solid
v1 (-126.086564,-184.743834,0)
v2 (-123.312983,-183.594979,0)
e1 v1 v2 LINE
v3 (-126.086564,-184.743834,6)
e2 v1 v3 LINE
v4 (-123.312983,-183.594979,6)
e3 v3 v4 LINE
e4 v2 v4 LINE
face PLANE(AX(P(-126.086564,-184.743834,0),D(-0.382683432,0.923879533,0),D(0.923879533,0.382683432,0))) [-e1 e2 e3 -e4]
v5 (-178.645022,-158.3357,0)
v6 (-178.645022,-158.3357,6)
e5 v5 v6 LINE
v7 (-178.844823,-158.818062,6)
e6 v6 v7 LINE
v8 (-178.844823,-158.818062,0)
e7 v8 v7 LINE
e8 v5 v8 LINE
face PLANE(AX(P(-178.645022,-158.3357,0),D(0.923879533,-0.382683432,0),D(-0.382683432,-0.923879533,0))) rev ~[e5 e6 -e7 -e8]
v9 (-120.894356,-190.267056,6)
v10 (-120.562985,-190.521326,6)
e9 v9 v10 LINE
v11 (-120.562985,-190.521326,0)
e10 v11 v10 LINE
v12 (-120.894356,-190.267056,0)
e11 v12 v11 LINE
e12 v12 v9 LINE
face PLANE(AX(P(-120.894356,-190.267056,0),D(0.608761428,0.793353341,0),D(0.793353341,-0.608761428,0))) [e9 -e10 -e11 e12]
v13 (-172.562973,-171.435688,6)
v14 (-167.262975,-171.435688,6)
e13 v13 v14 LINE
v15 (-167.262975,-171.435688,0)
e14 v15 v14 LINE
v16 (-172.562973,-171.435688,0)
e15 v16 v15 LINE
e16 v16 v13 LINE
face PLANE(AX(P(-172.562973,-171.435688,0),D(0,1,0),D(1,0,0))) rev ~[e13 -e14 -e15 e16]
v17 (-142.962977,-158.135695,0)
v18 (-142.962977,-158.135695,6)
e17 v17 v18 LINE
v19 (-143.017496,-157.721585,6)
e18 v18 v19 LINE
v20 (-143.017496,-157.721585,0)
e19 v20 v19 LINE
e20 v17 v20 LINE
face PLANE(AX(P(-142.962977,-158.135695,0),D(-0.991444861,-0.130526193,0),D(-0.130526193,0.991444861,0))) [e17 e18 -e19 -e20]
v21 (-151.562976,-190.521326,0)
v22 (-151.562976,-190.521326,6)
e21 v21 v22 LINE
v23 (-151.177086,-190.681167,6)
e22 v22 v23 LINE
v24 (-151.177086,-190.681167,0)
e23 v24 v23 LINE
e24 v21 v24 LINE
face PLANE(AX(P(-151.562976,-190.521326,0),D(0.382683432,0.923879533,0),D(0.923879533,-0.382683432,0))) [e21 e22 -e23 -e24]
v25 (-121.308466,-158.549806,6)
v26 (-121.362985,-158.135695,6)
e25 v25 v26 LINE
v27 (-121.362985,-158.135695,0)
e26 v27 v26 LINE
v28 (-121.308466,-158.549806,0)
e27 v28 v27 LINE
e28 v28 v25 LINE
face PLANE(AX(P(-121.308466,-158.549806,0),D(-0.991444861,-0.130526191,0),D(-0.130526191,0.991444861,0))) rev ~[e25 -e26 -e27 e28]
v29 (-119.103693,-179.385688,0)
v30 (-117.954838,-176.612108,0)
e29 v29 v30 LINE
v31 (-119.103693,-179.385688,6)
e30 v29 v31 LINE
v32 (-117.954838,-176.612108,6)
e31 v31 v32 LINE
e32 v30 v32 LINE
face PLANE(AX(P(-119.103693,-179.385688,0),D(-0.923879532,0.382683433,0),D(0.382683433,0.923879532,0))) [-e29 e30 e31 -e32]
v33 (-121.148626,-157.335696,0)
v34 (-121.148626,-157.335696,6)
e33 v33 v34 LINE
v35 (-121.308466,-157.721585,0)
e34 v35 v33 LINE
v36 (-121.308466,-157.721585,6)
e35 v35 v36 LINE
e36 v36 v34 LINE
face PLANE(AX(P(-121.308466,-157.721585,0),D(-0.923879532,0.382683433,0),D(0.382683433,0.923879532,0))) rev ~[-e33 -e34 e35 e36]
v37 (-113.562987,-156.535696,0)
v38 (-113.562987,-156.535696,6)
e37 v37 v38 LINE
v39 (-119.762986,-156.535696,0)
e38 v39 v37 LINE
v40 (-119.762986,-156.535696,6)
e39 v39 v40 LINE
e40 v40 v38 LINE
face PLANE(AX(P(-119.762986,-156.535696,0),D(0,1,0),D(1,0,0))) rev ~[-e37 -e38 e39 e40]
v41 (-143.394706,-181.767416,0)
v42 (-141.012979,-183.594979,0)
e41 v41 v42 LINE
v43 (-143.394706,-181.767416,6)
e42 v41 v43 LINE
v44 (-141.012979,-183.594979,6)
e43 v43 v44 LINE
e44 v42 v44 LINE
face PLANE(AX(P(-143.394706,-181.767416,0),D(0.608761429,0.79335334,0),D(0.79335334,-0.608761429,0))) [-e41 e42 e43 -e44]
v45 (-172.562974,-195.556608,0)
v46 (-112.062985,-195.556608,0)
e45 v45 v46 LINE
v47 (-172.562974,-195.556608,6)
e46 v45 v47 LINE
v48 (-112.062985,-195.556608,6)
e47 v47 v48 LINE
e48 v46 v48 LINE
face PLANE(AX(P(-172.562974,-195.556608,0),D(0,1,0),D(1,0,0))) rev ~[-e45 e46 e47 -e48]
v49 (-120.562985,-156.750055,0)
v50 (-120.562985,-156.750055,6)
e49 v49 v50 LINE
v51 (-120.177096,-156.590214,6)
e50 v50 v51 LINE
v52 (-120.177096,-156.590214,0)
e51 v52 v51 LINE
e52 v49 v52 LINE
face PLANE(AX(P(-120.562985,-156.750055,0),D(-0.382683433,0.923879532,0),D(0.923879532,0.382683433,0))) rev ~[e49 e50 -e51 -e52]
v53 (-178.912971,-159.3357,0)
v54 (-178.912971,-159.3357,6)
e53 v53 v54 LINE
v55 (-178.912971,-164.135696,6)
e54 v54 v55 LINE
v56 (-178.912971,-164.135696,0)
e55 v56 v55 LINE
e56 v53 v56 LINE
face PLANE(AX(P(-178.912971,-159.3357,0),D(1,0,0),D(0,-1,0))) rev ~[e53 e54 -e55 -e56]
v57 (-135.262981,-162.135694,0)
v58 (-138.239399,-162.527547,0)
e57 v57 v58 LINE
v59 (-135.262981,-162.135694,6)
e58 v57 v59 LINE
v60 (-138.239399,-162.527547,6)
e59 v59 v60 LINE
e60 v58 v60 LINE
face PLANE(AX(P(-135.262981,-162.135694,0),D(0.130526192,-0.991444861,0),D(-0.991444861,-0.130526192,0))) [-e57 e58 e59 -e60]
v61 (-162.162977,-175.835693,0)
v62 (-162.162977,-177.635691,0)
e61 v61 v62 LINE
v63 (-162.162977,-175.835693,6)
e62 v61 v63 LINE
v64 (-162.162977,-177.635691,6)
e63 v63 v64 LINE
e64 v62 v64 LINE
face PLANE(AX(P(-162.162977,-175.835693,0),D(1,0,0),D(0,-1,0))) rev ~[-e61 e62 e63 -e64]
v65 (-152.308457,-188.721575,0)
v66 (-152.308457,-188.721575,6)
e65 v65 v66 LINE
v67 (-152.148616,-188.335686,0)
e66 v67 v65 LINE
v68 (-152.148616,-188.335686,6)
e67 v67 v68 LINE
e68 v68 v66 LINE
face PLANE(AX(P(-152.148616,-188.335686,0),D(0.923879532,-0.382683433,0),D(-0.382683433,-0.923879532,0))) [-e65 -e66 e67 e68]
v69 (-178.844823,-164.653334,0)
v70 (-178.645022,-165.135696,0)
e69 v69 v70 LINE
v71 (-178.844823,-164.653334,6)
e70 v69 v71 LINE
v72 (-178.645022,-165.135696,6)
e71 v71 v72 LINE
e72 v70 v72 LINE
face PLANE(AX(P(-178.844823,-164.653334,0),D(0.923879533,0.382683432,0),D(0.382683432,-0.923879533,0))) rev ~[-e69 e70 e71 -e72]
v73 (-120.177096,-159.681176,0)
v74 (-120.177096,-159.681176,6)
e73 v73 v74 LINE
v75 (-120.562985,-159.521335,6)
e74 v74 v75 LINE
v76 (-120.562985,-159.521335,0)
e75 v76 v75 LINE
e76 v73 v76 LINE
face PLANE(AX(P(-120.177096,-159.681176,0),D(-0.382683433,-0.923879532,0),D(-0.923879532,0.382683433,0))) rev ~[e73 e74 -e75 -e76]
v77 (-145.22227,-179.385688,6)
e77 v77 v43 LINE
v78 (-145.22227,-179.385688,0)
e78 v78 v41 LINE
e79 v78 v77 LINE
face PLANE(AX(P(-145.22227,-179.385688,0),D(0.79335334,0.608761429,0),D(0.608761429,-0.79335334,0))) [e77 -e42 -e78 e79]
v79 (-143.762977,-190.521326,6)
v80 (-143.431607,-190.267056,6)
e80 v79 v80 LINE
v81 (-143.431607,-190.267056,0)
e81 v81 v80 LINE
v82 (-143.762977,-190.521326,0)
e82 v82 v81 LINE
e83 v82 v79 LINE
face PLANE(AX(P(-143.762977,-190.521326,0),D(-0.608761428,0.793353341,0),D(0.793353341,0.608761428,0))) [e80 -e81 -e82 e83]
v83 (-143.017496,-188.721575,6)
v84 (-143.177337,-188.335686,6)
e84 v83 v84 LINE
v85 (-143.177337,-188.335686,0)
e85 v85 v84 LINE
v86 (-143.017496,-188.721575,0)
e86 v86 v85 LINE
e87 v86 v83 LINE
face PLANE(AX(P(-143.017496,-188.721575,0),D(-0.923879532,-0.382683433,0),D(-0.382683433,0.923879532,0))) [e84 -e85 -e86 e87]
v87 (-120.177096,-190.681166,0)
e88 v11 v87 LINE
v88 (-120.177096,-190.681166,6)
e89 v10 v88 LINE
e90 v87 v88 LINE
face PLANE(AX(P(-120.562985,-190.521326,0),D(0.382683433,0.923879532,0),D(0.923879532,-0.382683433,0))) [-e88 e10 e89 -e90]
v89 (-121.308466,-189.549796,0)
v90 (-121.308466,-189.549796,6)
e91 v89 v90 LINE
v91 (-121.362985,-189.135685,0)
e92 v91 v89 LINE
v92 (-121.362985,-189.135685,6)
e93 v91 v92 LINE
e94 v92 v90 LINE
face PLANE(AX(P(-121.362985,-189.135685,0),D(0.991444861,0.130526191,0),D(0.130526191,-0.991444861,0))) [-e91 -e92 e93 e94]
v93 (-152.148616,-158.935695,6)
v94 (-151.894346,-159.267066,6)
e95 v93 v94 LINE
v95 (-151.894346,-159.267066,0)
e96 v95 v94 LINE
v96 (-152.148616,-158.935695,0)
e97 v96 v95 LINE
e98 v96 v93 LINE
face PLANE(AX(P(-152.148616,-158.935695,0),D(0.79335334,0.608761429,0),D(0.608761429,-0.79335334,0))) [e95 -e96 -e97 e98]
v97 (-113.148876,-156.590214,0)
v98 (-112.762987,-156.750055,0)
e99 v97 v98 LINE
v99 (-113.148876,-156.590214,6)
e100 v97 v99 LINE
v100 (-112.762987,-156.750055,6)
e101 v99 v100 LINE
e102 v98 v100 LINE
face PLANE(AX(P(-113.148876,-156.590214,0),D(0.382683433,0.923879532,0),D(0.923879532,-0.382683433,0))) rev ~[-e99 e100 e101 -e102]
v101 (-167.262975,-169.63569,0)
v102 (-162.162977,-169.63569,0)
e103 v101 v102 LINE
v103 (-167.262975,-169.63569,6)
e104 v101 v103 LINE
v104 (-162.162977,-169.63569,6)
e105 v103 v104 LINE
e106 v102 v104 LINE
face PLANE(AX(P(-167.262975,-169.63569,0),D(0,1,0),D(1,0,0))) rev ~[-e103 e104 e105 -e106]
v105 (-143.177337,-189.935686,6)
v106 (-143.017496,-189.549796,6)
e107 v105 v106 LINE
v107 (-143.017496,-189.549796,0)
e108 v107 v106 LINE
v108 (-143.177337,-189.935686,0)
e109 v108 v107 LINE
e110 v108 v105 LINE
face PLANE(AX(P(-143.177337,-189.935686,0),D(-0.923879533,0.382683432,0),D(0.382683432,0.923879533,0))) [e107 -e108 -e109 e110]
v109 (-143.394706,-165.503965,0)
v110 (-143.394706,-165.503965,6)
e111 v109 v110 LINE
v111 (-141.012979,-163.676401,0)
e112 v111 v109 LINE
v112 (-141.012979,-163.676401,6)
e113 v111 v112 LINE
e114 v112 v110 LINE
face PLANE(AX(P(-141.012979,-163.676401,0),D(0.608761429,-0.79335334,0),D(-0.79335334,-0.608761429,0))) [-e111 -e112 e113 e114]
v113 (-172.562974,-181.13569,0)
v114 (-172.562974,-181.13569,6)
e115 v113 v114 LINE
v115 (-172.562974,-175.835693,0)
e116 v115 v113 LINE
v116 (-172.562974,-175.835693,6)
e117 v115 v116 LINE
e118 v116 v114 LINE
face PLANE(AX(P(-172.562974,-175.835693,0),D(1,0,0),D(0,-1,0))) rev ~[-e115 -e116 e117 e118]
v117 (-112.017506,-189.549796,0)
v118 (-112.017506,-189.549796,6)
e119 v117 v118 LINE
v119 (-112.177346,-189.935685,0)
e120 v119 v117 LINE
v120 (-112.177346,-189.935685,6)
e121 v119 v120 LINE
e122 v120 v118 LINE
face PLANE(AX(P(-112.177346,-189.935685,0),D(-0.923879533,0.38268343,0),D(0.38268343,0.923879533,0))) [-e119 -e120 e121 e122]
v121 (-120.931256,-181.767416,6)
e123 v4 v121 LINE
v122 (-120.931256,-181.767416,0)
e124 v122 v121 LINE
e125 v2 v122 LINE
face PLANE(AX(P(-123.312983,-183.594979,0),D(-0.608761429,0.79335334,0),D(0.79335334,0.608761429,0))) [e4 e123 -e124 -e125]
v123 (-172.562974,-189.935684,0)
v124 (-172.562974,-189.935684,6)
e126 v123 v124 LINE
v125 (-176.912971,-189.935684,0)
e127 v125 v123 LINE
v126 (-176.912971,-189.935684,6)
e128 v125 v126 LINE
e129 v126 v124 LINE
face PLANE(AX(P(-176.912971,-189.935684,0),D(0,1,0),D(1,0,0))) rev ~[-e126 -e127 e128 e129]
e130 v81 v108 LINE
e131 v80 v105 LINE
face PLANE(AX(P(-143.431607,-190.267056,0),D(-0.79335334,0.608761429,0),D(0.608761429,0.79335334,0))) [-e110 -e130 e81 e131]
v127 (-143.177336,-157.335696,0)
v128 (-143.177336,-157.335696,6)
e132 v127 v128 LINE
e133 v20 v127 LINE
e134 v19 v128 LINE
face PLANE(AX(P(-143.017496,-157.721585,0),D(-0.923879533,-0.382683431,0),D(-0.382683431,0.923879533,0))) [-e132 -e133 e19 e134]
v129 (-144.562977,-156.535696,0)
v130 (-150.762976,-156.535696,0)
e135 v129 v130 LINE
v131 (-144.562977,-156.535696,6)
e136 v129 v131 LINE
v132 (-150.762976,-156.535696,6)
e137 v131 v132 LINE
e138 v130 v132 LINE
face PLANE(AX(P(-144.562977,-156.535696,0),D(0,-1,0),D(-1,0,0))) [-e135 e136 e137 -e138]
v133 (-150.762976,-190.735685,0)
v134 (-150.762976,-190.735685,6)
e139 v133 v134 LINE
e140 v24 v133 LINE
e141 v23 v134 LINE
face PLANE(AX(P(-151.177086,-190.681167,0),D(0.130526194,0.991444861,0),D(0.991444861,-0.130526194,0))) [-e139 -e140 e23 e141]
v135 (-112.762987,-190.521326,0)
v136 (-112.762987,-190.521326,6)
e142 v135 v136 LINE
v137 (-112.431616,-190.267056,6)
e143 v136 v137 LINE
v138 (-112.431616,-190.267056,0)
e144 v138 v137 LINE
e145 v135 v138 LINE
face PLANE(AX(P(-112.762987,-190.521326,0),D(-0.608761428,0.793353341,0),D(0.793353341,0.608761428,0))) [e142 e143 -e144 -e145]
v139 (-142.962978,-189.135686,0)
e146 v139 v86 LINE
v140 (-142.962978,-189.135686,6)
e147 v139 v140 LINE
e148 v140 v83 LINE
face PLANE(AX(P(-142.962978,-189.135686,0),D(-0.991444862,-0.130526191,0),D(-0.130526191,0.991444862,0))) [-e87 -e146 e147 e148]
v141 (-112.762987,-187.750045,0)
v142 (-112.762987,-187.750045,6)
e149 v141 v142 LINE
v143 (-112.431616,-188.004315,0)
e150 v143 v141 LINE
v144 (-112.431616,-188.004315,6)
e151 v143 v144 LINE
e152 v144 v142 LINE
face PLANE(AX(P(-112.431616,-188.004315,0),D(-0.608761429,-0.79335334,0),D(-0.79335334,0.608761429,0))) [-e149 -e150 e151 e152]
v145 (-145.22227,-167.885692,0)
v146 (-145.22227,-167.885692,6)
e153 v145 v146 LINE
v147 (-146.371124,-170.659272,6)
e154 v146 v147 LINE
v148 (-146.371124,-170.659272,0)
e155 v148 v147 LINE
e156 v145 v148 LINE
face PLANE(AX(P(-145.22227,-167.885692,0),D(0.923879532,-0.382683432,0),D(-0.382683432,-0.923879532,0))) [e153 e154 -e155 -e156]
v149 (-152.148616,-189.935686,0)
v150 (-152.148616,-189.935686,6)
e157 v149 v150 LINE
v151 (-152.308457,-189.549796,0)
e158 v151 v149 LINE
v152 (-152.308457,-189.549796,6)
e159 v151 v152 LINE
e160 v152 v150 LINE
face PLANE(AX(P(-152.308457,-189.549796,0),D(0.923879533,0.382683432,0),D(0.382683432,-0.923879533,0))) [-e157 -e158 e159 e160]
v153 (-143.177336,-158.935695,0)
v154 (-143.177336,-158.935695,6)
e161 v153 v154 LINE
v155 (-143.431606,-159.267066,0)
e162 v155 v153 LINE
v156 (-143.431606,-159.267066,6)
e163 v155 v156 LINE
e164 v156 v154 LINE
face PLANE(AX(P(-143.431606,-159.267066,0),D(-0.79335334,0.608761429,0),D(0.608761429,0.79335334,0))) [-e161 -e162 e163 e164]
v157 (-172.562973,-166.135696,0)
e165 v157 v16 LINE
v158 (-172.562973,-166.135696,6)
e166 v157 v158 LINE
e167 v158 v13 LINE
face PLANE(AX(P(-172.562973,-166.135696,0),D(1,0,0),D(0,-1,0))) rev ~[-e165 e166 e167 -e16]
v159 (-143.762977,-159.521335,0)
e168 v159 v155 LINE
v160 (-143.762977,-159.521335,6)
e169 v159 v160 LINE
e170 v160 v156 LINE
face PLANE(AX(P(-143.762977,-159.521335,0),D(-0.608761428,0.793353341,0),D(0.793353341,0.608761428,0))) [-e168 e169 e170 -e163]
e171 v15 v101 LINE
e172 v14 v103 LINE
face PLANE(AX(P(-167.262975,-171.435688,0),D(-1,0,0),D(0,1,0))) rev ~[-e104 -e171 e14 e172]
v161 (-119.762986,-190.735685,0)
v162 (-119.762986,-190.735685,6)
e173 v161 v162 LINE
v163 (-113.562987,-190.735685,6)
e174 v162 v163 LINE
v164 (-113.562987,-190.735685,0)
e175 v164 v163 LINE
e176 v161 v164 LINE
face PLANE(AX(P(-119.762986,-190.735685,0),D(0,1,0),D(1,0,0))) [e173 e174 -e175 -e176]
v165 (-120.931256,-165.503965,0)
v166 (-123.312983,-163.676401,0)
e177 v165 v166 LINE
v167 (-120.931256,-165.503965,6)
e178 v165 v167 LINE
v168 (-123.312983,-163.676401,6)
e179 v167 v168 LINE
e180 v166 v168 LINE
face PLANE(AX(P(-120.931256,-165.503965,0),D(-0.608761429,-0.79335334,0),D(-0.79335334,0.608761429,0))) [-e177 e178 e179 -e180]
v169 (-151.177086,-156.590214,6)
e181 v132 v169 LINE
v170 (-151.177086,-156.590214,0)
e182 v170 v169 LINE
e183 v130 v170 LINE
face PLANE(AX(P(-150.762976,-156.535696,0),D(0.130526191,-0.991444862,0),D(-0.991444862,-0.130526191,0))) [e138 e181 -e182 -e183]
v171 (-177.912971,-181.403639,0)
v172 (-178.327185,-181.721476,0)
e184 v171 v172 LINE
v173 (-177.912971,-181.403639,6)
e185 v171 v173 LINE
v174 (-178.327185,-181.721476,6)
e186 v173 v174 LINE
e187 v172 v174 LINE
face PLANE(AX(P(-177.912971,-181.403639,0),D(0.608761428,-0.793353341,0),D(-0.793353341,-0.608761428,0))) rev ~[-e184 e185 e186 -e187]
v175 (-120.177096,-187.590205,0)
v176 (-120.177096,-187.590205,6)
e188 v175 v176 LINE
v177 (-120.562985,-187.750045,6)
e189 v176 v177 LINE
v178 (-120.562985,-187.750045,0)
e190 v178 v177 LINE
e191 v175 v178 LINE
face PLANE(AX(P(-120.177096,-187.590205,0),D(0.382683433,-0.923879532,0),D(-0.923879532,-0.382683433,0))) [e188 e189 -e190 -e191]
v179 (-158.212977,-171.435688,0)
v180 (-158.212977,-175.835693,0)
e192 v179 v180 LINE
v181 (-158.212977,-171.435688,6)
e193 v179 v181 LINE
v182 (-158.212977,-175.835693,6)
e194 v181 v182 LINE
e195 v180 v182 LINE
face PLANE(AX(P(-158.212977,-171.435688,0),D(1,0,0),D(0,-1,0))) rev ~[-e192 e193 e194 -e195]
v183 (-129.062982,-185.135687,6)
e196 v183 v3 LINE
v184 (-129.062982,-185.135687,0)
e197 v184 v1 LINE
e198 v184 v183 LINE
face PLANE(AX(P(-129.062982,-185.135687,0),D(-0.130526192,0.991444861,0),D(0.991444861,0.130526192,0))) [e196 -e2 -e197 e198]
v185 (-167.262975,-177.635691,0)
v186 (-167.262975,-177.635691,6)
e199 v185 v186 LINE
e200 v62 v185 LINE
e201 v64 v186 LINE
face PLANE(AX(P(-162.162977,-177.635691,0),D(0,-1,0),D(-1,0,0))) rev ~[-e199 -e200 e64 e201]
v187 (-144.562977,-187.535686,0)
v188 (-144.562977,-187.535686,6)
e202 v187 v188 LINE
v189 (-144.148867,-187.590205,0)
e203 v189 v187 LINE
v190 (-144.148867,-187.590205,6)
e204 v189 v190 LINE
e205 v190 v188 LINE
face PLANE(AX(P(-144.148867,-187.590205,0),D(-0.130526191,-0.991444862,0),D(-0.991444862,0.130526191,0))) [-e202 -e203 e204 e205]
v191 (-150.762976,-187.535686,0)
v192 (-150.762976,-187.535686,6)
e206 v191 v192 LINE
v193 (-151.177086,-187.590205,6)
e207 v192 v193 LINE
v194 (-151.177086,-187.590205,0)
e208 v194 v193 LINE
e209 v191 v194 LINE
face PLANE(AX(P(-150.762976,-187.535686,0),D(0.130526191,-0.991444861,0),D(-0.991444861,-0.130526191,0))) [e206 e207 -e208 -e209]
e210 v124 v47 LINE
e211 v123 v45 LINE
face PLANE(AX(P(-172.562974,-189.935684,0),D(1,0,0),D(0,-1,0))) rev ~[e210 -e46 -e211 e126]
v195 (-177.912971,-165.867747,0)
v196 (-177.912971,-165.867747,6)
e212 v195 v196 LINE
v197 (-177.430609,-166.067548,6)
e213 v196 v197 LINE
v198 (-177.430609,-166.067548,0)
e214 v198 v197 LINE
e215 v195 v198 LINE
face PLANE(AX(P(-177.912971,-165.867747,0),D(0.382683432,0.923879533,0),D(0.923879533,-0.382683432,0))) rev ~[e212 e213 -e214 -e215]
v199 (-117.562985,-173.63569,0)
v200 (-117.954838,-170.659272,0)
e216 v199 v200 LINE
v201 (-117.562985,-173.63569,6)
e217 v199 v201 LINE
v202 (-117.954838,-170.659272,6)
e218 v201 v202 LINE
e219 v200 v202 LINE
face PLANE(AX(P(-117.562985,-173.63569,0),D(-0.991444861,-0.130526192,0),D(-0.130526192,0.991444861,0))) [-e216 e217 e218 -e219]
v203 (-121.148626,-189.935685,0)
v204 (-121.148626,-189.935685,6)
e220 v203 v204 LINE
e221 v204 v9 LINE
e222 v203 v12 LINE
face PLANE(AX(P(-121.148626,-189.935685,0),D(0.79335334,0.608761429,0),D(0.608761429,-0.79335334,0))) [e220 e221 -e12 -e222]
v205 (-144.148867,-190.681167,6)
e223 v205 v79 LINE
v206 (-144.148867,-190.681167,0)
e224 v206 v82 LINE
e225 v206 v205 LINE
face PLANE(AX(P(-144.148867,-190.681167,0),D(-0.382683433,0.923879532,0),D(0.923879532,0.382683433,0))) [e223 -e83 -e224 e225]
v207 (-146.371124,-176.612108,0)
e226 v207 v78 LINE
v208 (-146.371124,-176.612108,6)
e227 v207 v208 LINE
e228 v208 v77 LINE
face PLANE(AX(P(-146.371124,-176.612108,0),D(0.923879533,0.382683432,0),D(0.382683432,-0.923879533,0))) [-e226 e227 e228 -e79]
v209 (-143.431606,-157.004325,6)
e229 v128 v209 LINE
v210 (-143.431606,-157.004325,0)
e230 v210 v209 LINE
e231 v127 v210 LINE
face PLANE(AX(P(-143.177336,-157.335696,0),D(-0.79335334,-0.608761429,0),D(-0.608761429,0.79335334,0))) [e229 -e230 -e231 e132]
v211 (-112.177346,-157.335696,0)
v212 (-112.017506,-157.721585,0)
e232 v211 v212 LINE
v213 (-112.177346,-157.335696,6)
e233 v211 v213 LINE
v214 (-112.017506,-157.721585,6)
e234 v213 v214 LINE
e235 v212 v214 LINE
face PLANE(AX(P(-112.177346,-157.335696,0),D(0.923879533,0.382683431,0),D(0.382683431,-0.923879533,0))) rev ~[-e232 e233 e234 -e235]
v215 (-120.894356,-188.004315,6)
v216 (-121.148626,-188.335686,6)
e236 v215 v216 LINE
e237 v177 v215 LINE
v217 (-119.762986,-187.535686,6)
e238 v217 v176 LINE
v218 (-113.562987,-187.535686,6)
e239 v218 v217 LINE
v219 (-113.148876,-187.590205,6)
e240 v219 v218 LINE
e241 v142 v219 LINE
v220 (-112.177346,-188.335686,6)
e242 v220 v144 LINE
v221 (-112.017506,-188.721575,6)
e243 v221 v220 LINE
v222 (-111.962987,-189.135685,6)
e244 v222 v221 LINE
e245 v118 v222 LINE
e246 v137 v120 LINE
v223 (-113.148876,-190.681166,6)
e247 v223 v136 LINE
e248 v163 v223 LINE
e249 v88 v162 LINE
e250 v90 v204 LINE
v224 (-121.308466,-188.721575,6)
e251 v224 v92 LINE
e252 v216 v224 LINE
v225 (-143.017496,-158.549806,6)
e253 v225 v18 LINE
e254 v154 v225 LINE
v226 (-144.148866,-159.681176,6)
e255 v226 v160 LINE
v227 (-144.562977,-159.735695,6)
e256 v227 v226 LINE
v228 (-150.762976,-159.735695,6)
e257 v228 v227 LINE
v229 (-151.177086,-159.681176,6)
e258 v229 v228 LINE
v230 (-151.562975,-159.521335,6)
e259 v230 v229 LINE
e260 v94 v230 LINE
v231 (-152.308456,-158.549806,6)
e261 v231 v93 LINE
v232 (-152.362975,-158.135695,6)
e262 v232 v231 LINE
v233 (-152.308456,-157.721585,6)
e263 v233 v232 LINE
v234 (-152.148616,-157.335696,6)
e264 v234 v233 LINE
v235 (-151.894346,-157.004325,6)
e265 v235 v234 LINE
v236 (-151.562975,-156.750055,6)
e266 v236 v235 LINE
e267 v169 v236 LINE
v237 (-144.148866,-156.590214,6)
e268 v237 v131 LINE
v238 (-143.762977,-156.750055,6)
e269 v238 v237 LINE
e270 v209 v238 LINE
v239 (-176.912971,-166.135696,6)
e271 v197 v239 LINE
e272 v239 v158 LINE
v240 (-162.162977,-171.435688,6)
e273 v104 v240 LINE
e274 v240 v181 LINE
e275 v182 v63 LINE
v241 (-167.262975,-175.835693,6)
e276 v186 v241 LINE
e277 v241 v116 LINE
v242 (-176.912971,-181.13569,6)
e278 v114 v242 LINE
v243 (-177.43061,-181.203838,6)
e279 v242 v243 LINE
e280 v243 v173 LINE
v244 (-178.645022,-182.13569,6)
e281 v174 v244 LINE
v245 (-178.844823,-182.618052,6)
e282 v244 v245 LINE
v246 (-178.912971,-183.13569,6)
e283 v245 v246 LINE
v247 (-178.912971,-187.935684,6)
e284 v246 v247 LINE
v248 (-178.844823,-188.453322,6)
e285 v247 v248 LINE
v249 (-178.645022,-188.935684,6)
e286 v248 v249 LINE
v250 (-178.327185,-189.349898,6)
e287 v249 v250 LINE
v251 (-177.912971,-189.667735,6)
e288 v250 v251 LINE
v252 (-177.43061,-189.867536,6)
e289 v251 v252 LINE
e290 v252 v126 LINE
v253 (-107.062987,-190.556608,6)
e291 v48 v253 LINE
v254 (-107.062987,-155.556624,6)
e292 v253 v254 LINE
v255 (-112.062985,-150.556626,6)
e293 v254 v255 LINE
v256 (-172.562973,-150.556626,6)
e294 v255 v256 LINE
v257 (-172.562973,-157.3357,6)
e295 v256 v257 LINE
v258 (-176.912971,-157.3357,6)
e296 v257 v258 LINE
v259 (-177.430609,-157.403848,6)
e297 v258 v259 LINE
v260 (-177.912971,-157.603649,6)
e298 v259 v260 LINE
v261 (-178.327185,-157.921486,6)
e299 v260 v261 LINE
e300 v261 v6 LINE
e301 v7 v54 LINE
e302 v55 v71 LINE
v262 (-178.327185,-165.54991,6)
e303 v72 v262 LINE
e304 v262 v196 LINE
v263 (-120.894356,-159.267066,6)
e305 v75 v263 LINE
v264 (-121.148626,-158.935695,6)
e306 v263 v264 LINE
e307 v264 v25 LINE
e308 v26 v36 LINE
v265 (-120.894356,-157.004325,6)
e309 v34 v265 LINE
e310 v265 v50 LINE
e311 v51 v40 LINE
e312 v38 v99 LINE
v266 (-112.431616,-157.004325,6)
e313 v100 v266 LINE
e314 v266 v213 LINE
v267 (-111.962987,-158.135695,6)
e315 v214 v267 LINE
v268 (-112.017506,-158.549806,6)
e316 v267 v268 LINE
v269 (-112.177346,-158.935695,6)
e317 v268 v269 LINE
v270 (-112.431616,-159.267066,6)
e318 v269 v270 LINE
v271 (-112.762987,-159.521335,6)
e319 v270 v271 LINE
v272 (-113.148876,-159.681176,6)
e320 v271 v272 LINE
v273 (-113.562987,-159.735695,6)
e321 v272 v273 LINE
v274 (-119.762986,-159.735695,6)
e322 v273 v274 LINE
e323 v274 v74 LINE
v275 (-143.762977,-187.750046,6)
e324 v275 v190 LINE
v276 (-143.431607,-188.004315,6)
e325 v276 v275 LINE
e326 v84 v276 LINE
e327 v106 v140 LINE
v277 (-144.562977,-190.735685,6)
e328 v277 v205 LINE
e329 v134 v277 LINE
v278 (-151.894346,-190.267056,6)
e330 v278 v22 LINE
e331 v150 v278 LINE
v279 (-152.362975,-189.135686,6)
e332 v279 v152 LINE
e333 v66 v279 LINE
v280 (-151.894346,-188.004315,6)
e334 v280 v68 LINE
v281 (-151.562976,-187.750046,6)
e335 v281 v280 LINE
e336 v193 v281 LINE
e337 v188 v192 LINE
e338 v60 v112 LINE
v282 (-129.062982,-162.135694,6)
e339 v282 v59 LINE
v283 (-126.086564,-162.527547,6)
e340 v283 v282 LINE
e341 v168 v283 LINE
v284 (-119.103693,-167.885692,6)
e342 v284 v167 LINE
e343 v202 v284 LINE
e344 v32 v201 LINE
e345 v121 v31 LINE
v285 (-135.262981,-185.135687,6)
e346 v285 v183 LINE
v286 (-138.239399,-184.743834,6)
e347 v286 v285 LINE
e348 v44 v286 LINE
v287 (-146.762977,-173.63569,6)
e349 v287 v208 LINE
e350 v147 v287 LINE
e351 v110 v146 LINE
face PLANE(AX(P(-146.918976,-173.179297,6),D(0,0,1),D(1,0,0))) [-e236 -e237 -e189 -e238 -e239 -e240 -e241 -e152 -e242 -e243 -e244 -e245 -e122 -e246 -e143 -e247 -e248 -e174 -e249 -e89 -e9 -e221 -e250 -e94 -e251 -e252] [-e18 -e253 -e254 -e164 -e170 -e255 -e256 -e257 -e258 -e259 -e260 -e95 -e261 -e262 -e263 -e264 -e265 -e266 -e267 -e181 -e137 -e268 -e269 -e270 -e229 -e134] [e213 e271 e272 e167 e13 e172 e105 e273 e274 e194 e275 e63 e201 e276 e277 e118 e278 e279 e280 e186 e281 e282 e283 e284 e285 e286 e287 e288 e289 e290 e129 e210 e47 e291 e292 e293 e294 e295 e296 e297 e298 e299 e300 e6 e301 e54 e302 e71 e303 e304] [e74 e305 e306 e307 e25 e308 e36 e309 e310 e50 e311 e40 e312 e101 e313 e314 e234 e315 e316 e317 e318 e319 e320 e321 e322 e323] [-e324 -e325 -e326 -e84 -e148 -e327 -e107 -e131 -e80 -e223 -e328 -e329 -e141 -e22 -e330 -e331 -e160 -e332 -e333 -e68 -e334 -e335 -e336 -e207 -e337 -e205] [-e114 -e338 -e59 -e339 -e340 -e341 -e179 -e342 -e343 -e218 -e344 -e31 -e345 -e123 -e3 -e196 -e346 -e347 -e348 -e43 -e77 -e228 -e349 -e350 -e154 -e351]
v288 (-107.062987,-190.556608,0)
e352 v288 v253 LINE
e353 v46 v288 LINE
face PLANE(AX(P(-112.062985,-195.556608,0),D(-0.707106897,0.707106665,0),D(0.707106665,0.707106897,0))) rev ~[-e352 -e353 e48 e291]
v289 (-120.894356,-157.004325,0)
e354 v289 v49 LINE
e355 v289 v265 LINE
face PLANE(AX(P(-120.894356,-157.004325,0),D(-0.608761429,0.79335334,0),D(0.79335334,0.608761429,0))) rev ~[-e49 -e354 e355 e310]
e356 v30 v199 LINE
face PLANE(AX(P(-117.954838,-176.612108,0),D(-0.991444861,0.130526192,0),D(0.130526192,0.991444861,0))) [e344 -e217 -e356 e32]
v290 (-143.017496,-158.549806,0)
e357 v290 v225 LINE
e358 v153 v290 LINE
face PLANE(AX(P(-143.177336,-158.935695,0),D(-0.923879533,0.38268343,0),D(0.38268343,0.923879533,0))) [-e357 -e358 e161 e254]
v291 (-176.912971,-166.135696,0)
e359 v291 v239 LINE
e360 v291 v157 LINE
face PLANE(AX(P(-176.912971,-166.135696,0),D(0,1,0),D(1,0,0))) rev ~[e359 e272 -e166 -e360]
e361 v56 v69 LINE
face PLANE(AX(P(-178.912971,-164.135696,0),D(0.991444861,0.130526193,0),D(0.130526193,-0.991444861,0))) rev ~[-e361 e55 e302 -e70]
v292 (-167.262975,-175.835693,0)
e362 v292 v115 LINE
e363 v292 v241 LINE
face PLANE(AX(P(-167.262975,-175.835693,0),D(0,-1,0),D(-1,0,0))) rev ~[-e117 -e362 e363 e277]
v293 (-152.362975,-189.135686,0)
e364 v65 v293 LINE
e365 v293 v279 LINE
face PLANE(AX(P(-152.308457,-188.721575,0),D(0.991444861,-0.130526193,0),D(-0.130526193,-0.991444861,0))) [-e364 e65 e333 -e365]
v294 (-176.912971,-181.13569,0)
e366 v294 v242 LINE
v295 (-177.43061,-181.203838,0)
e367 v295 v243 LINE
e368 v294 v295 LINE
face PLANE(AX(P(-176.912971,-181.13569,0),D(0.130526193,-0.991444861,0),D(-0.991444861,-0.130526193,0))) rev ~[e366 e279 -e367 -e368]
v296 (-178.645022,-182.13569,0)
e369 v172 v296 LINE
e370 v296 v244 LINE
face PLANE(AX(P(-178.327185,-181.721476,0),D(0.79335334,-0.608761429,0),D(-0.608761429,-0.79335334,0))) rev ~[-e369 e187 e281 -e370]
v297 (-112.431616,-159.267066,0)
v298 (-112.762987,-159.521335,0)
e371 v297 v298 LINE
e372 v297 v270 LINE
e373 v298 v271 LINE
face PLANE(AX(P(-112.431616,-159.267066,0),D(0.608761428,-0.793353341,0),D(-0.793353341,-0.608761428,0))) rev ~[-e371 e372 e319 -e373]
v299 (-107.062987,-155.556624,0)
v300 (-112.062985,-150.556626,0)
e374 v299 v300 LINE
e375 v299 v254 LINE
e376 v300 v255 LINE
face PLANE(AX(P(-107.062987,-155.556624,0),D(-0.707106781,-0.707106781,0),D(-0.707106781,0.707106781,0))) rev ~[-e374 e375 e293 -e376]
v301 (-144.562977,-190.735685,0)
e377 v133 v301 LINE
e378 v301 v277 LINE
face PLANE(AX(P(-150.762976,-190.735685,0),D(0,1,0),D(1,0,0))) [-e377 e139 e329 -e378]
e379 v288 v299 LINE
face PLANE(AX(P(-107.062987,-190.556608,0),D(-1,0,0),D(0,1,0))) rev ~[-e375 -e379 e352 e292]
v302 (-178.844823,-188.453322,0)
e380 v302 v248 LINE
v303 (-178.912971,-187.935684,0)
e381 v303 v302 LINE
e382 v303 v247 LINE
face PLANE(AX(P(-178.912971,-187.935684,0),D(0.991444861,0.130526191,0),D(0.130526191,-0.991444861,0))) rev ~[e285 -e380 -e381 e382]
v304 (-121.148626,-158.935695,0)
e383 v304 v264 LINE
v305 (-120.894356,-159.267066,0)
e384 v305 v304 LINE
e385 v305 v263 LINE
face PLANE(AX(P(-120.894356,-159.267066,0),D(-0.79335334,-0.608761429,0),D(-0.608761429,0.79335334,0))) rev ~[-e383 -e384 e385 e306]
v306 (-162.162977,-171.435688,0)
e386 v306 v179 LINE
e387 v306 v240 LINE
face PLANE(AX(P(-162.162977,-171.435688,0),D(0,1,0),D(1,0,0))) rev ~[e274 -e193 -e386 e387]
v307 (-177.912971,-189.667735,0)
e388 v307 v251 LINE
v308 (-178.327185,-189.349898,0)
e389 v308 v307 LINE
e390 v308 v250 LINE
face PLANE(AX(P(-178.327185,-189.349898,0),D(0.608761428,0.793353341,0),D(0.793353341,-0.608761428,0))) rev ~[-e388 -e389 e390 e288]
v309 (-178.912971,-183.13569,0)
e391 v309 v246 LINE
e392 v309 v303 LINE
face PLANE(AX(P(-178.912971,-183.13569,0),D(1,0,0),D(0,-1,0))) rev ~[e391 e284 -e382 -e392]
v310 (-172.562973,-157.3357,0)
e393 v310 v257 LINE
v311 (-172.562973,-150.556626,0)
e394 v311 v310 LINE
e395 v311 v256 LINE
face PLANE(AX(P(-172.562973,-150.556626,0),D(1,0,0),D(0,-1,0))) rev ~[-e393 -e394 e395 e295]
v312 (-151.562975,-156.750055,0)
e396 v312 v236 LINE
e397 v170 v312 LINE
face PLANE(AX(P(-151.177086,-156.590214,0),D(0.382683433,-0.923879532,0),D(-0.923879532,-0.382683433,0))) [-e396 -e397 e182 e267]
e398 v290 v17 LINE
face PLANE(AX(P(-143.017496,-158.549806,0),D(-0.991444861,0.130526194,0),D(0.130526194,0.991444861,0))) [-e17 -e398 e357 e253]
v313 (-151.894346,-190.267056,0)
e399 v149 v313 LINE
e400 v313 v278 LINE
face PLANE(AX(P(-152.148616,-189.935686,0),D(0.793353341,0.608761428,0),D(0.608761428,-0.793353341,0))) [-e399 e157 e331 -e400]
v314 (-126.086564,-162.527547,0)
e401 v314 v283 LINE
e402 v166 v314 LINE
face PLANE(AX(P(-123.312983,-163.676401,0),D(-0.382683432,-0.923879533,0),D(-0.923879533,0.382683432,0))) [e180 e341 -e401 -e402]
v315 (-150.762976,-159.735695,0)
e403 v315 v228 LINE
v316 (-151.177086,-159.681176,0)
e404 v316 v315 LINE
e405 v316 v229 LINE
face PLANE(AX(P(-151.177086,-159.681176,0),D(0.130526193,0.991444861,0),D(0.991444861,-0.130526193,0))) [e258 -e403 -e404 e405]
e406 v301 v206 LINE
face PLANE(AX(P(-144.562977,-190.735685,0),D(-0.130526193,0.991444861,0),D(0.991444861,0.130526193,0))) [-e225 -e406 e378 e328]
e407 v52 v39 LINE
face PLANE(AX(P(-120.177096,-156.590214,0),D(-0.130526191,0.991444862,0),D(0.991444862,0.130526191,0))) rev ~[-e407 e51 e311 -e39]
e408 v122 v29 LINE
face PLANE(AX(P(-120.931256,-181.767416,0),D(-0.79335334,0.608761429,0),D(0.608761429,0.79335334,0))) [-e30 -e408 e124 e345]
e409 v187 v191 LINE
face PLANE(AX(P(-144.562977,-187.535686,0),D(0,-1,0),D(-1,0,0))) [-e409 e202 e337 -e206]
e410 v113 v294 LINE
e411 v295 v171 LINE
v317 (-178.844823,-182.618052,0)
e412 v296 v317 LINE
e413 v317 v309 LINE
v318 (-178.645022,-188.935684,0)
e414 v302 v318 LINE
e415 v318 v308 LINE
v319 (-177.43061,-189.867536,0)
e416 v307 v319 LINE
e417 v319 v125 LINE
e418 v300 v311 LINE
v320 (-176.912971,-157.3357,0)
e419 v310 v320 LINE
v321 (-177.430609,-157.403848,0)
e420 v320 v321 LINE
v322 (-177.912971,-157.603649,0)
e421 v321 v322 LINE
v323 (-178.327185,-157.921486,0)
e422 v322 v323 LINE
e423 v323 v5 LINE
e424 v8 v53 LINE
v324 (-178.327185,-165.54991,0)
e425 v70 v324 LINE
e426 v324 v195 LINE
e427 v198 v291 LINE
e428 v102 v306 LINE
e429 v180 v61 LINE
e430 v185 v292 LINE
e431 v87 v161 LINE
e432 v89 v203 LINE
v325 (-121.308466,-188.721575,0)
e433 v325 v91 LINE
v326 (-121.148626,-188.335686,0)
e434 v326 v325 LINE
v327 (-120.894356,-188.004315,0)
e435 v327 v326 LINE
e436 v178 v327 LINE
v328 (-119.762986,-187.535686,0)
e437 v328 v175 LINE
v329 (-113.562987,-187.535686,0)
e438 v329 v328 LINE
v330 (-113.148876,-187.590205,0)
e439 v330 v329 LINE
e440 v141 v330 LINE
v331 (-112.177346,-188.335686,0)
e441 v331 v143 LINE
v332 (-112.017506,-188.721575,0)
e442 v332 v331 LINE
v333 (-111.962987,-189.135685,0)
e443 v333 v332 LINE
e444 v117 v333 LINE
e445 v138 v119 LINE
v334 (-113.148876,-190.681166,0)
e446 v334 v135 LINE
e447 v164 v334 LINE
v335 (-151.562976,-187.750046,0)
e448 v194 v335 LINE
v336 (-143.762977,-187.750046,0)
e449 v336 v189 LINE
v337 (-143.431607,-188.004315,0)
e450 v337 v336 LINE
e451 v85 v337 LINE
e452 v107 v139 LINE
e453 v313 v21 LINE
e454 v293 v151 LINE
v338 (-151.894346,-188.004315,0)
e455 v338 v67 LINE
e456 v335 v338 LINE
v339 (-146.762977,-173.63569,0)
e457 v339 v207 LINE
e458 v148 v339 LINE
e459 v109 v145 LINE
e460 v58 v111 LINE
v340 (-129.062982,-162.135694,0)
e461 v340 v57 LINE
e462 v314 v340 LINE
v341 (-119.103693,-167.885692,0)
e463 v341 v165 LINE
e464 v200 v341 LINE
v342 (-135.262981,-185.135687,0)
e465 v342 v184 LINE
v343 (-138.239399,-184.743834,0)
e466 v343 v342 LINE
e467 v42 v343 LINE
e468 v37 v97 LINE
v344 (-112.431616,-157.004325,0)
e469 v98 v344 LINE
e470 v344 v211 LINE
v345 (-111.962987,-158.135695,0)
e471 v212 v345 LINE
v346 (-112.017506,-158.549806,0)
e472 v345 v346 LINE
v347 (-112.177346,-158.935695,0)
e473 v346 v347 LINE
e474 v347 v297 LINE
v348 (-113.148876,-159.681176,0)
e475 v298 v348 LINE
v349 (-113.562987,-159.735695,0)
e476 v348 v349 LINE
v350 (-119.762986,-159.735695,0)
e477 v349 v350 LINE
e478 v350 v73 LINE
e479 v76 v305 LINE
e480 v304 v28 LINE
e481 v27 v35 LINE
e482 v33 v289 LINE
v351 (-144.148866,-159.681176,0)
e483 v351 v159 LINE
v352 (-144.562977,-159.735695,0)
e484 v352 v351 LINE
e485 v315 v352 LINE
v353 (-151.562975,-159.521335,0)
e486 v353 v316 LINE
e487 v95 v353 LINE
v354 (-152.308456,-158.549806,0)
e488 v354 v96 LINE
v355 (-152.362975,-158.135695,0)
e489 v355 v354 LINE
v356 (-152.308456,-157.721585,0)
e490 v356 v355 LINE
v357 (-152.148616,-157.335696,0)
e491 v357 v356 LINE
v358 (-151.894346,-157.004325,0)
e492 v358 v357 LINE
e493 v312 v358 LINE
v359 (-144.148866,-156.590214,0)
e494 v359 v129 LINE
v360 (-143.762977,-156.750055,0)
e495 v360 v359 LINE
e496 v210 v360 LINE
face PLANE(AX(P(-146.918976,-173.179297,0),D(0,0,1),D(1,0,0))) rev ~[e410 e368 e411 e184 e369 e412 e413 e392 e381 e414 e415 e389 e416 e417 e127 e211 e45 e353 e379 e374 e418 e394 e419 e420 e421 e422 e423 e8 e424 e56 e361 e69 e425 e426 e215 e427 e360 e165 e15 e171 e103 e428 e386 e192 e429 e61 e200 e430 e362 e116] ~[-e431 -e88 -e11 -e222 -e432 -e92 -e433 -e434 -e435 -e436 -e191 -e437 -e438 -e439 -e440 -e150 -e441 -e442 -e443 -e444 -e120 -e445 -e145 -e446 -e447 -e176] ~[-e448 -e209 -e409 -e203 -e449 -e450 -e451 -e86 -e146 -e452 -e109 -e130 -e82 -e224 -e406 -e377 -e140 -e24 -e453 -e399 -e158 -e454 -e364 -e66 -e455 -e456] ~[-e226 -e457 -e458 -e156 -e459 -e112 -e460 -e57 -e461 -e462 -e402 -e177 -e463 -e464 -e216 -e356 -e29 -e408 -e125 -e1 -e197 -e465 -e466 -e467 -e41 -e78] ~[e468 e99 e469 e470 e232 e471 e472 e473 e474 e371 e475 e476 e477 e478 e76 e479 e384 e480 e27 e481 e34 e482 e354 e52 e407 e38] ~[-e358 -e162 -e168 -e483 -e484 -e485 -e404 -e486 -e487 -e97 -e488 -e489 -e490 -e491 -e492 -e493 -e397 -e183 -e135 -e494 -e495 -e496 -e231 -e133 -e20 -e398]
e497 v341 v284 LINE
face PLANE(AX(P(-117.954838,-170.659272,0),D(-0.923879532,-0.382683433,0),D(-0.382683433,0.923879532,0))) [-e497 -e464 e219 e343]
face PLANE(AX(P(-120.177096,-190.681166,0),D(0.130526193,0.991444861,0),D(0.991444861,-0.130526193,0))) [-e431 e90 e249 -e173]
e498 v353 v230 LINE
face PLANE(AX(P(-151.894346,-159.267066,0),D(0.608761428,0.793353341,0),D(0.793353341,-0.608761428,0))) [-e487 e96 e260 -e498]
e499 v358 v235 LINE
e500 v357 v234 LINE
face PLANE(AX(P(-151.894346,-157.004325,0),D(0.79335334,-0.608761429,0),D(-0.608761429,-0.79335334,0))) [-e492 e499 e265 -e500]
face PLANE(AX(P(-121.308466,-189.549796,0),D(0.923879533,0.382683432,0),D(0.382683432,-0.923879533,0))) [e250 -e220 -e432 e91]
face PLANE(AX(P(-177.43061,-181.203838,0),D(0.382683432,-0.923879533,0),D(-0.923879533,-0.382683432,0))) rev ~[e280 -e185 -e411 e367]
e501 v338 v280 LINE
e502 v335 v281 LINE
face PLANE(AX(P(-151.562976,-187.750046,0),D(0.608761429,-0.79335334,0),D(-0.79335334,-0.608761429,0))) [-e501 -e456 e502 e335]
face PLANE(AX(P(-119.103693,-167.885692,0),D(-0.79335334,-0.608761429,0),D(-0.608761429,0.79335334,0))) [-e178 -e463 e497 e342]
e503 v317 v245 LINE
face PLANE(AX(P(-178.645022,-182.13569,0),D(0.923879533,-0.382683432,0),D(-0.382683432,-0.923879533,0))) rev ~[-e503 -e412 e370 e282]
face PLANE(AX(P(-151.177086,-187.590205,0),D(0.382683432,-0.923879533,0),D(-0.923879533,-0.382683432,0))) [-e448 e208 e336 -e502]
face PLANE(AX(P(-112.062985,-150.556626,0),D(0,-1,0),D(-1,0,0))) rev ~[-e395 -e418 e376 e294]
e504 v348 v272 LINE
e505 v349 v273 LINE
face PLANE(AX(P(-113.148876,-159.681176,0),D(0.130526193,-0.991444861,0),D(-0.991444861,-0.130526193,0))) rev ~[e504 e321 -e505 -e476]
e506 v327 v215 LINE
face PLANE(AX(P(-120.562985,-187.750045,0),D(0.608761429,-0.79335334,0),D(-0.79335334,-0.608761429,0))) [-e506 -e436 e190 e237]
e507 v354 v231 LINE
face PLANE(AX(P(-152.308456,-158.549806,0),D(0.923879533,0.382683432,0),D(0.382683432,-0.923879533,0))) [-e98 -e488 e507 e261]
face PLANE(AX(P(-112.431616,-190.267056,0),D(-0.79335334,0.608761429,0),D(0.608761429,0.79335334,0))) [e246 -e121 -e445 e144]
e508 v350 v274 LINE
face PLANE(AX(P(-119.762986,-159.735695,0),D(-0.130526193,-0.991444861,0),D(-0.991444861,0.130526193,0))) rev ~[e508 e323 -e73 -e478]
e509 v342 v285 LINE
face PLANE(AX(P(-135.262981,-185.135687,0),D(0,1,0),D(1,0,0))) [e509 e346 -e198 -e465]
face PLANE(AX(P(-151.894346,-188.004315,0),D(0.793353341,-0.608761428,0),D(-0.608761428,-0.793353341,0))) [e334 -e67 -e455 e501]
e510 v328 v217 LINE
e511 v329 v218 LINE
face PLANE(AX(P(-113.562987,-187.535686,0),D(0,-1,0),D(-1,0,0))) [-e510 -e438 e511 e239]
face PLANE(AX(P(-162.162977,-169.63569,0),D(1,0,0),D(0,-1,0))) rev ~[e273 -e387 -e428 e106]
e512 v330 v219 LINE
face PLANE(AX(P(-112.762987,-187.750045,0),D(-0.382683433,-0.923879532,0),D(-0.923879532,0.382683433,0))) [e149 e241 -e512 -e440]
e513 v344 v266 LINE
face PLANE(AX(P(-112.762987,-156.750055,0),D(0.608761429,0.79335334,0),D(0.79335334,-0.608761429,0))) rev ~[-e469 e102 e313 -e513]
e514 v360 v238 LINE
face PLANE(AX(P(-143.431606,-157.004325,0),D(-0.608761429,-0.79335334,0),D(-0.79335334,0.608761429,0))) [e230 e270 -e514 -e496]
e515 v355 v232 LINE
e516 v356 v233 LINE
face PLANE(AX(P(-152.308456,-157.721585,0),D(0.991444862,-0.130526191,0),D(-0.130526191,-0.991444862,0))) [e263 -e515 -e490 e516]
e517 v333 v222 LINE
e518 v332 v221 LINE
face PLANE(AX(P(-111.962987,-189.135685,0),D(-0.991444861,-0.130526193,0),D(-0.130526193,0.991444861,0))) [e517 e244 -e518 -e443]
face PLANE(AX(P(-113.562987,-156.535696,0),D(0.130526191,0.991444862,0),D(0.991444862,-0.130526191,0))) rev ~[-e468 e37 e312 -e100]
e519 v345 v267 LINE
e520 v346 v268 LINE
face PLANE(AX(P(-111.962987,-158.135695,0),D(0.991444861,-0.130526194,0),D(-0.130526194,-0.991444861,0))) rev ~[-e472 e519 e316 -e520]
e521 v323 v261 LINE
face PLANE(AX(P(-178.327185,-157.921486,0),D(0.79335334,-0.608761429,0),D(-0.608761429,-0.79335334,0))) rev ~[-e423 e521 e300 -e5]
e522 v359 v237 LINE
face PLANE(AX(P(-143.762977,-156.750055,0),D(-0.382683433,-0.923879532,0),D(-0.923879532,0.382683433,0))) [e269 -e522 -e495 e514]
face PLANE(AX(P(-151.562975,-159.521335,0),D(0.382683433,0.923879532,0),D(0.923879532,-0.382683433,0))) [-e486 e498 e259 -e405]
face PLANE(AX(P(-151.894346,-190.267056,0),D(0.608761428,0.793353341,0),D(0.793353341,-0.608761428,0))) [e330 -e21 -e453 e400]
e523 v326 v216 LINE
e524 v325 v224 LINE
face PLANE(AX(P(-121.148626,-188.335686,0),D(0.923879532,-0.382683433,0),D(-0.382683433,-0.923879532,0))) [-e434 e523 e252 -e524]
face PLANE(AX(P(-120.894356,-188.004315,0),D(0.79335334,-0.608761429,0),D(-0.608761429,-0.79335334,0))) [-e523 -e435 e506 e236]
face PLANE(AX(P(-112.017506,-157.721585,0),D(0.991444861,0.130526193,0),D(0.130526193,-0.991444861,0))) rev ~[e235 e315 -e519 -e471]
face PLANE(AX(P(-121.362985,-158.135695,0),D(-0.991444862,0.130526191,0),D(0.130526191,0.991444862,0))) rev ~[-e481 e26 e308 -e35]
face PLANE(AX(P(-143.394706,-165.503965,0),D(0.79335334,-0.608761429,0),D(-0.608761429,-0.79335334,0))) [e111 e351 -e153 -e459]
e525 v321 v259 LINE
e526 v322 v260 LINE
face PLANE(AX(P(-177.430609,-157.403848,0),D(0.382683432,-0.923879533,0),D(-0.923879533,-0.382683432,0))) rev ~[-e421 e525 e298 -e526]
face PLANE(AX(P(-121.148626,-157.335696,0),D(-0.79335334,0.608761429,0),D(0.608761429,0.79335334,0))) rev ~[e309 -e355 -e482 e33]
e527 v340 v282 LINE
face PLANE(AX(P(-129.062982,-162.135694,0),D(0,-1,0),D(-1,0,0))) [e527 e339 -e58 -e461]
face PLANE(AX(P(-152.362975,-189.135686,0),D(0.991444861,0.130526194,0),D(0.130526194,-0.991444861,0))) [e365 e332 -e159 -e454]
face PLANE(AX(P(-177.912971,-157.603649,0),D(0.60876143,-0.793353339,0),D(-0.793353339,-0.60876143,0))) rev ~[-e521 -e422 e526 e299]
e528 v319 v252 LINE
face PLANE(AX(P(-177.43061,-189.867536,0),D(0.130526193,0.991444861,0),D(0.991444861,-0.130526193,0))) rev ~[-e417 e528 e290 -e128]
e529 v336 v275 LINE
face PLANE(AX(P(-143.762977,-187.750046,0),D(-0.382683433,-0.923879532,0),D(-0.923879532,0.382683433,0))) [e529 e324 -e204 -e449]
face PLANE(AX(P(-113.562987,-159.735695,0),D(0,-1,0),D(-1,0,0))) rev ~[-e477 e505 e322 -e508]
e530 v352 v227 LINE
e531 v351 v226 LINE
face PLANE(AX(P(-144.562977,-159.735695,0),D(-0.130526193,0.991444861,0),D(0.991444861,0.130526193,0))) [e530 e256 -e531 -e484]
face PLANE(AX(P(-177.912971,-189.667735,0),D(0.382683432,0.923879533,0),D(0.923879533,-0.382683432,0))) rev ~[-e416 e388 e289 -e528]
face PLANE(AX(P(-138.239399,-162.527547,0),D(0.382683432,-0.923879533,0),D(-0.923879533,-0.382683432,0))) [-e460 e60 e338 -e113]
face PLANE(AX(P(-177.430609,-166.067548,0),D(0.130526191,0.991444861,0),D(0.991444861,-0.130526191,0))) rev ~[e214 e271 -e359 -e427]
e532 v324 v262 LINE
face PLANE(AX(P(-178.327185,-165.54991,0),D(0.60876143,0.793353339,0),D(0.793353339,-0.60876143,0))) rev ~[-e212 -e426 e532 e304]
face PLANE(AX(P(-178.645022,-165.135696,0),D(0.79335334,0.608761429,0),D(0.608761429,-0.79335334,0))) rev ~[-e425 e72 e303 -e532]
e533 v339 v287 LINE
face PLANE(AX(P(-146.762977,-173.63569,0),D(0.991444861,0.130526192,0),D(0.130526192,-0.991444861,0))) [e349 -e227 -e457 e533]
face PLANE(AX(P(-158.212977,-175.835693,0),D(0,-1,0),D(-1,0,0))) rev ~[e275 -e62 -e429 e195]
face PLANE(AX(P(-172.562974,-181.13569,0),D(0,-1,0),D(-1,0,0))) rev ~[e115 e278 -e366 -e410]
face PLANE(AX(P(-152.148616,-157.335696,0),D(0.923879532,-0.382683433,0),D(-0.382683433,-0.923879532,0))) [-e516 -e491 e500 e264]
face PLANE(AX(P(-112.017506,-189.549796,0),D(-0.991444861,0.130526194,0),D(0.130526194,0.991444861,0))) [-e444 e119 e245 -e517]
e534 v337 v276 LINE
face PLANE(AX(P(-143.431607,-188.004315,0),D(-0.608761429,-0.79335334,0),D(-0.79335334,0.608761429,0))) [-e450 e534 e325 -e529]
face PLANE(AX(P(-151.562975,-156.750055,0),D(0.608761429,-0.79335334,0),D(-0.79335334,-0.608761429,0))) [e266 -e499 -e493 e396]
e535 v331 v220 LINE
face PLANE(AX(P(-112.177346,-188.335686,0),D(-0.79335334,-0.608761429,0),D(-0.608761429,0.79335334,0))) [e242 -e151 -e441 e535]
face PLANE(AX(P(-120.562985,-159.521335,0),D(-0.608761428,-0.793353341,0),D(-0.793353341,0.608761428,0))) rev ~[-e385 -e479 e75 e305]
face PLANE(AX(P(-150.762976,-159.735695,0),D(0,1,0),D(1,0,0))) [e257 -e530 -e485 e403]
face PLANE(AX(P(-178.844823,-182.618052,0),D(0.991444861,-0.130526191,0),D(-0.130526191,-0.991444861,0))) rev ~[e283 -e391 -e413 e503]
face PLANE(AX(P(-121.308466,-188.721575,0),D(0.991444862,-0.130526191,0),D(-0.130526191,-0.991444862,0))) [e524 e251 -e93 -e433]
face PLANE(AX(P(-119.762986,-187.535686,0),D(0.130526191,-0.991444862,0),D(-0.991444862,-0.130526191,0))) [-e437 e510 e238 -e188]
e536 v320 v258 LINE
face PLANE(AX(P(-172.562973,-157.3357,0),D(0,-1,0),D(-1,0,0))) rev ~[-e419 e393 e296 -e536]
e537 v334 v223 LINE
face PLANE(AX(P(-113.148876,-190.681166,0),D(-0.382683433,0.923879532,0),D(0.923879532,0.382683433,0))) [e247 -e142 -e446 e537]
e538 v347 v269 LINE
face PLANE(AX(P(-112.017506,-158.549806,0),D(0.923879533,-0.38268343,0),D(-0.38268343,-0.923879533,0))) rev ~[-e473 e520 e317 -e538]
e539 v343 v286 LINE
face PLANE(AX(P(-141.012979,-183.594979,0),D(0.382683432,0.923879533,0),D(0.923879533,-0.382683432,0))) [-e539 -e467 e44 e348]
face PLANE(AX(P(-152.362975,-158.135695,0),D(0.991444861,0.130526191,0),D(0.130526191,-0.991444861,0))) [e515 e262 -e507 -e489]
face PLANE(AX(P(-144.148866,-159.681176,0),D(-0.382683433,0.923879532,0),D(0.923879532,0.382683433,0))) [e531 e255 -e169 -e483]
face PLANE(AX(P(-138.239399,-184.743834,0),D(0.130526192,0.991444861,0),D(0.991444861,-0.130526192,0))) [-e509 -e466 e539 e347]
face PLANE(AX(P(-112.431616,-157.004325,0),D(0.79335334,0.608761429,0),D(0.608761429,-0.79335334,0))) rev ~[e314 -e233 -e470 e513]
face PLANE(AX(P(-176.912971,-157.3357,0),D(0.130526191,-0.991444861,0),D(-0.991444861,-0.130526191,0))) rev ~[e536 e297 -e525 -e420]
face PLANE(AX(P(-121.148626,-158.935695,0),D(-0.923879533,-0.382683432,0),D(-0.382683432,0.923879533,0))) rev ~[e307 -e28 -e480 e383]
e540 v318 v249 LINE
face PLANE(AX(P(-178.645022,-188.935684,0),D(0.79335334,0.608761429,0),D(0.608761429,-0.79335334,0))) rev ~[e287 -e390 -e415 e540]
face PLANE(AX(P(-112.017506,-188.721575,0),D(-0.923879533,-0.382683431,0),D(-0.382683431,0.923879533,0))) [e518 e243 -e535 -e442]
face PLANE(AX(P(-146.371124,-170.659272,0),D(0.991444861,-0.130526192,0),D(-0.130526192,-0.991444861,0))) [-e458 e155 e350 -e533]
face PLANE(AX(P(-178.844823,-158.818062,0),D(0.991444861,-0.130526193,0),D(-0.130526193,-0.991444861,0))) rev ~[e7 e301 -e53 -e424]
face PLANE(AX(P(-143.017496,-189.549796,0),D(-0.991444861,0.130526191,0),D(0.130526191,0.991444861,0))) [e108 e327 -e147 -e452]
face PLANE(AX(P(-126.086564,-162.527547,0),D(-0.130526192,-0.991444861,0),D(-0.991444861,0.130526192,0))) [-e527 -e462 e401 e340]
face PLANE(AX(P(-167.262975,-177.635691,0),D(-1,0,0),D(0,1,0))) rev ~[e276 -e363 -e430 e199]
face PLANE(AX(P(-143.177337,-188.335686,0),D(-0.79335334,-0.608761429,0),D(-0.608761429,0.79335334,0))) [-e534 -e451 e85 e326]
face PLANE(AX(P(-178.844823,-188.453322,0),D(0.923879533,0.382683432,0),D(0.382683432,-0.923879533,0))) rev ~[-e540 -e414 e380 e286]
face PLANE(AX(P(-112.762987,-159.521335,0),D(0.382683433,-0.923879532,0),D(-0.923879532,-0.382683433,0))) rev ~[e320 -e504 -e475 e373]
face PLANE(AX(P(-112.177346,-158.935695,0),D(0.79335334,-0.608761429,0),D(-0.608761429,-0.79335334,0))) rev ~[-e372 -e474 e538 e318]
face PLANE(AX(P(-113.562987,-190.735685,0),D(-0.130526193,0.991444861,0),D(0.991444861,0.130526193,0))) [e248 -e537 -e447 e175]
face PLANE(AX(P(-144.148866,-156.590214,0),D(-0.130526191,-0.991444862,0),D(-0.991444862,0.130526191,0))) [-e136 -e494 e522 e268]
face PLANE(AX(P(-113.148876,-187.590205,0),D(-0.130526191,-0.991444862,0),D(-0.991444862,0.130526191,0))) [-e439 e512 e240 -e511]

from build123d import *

# Parameters (mm, degrees)
BOSS_EXTRUDE1_DEPTH = 6


with BuildPart() as part:
    # Sketch1 → Boss-Extrude1 (new body)
    with BuildSketch(Plane.XY):
        Polygon((-107.062987014, -155.556624264), (-112.062985414, -150.556625864), (-172.562973402, -150.556625864), (-172.562973402, -157.335700029), (-176.912971293, -157.335700029), (-177.430609383, -157.403848376), (-177.912971293, -157.603649221), (-178.327184855, -157.921486467), (-178.6450221, -158.335700029), (-178.844822945, -158.818061939), (-178.912971293, -159.335700029), (-178.912971293, -164.135695994), (-178.844822945, -164.653334084), (-178.6450221, -165.135695994), (-178.327184855, -165.549909556), (-177.912971293, -165.867746802), (-177.430609383, -166.067547647), (-176.912971293, -166.135695994), (-172.562973402, -166.135695994), (-172.562973402, -171.435688001), (-167.26297458, -171.435688001), (-167.26297458, -169.635689769), (-162.162976815, -169.635689769), (-162.162976815, -171.435688001), (-158.212977143, -171.435688001), (-158.212977143, -175.835692673), (-162.162976966, -175.835692673), (-162.162976966, -177.635690904), (-167.26297473, -177.635690904), (-167.26297473, -175.835692673), (-172.562973552, -175.835692673), (-172.562973552, -181.135689927), (-176.912971443, -181.135689927), (-177.430609533, -181.203838275), (-177.912971443, -181.40363912), (-178.327185006, -181.721476365), (-178.645022251, -182.135689927), (-178.844823096, -182.618051837), (-178.912971443, -183.135689927), (-178.912971443, -187.93568437), (-178.844823096, -188.45332246), (-178.645022251, -188.93568437), (-178.327185006, -189.349897932), (-177.912971443, -189.667735177), (-177.430609533, -189.867536022), (-176.912971443, -189.93568437), (-172.562973552, -189.93568437), (-172.562973552, -195.556608264), (-112.062985371, -195.556608264), (-107.062987014, -190.556608264), align=None)
        Polygon((-150.762975594, -156.535695809), (-151.177085934, -156.590214469), (-151.562975338, -156.750055094), (-151.894346082, -157.004324809), (-152.148615797, -157.335695553), (-152.308456422, -157.721584957), (-152.362975082, -158.135695297), (-152.308456422, -158.549805636), (-152.148615797, -158.935695041), (-151.894346082, -159.267065785), (-151.562975338, -159.521335499), (-151.177085934, -159.681176124), (-150.762975594, -159.735694785), (-144.562976618, -159.735694785), (-144.148866278, -159.681176124), (-143.762976874, -159.521335499), (-143.43160613, -159.267065785), (-143.177336415, -158.935695041), (-143.017495791, -158.549805636), (-142.96297713, -158.135695297), (-143.017495791, -157.721584957), (-143.177336415, -157.335695553), (-143.43160613, -157.004324809), (-143.762976874, -156.750055094), (-144.148866278, -156.590214469), (-144.562976618, -156.535695809), align=None, mode=Mode.SUBTRACT)
        Polygon((-143.431606507, -188.004315269), (-143.762977251, -187.750045554), (-144.148866655, -187.590204929), (-144.562976995, -187.535686269), (-150.762975971, -187.535686269), (-151.17708631, -187.590204929), (-151.562975715, -187.750045554), (-151.894346459, -188.004315269), (-152.148616173, -188.335686013), (-152.308456798, -188.721575417), (-152.362975459, -189.135685757), (-152.308456798, -189.549796096), (-152.148616173, -189.935685501), (-151.894346459, -190.267056245), (-151.562975715, -190.521325959), (-151.17708631, -190.681166584), (-150.762975971, -190.735685245), (-144.562976995, -190.735685245), (-144.148866655, -190.681166584), (-143.762977251, -190.521325959), (-143.431606507, -190.267056245), (-143.177336792, -189.935685501), (-143.017496167, -189.549796096), (-142.962977507, -189.135685757), (-143.017496167, -188.721575417), (-143.177336792, -188.335686013), align=None, mode=Mode.SUBTRACT)
        Polygon((-121.362985002, -189.135685377), (-121.308466342, -189.549795716), (-121.148625717, -189.935685121), (-120.894356002, -190.267055865), (-120.562985258, -190.521325579), (-120.177095854, -190.681166204), (-119.762985514, -190.735684865), (-113.562986538, -190.735684865), (-113.148876198, -190.681166204), (-112.762986794, -190.521325579), (-112.43161605, -190.267055865), (-112.177346335, -189.935685121), (-112.017505711, -189.549795716), (-111.96298705, -189.135685377), (-112.017505711, -188.721575037), (-112.177346335, -188.335685633), (-112.43161605, -188.004314889), (-112.762986794, -187.750045174), (-113.148876198, -187.590204549), (-113.562986538, -187.535685889), (-119.762985514, -187.535685889), (-120.177095854, -187.590204549), (-120.562985258, -187.750045174), (-120.894356002, -188.004314889), (-121.148625717, -188.335685633), (-121.308466342, -188.721575037), align=None, mode=Mode.SUBTRACT)
        Polygon((-119.762985514, -156.535695809), (-113.562986538, -156.535695809), (-113.148876198, -156.590214469), (-112.762986794, -156.750055094), (-112.43161605, -157.004324809), (-112.177346335, -157.335695553), (-112.017505711, -157.721584957), (-111.96298705, -158.135695297), (-112.017505711, -158.549805636), (-112.177346335, -158.935695041), (-112.43161605, -159.267065785), (-112.762986794, -159.521335499), (-113.148876198, -159.681176124), (-113.562986538, -159.735694785), (-119.762985514, -159.735694785), (-120.177095854, -159.681176124), (-120.562985258, -159.521335499), (-120.894356002, -159.267065785), (-121.148625717, -158.935695041), (-121.308466342, -158.549805636), (-121.362985002, -158.135695297), (-121.308466342, -157.721584957), (-121.148625717, -157.335695553), (-120.894356002, -157.004324809), (-120.562985258, -156.750055094), (-120.177095854, -156.590214469), align=None, mode=Mode.SUBTRACT)
        Polygon((-126.086563512, -184.743833784), (-123.312983418, -183.594979293), (-120.931256197, -181.767415718), (-119.103692622, -179.385688497), (-117.95483813, -176.612108403), (-117.562985258, -173.635690337), (-117.95483813, -170.65927227), (-119.103692622, -167.885692177), (-120.931256197, -165.503964955), (-123.312983418, -163.67640138), (-126.086563512, -162.527546889), (-129.062981578, -162.135694017), (-135.262980554, -162.135694017), (-138.23939862, -162.527546889), (-141.012978714, -163.67640138), (-143.394705936, -165.503964955), (-145.222269511, -167.885692177), (-146.371124002, -170.65927227), (-146.762976874, -173.635690337), (-146.371124002, -176.612108403), (-145.222269511, -179.385688497), (-143.394705936, -181.767415718), (-141.012978714, -183.594979293), (-138.23939862, -184.743833784), (-135.262980554, -185.135686657), (-129.062981578, -185.135686657), align=None, mode=Mode.SUBTRACT)
    extrude(amount=BOSS_EXTRUDE1_DEPTH)


solid = part.part
